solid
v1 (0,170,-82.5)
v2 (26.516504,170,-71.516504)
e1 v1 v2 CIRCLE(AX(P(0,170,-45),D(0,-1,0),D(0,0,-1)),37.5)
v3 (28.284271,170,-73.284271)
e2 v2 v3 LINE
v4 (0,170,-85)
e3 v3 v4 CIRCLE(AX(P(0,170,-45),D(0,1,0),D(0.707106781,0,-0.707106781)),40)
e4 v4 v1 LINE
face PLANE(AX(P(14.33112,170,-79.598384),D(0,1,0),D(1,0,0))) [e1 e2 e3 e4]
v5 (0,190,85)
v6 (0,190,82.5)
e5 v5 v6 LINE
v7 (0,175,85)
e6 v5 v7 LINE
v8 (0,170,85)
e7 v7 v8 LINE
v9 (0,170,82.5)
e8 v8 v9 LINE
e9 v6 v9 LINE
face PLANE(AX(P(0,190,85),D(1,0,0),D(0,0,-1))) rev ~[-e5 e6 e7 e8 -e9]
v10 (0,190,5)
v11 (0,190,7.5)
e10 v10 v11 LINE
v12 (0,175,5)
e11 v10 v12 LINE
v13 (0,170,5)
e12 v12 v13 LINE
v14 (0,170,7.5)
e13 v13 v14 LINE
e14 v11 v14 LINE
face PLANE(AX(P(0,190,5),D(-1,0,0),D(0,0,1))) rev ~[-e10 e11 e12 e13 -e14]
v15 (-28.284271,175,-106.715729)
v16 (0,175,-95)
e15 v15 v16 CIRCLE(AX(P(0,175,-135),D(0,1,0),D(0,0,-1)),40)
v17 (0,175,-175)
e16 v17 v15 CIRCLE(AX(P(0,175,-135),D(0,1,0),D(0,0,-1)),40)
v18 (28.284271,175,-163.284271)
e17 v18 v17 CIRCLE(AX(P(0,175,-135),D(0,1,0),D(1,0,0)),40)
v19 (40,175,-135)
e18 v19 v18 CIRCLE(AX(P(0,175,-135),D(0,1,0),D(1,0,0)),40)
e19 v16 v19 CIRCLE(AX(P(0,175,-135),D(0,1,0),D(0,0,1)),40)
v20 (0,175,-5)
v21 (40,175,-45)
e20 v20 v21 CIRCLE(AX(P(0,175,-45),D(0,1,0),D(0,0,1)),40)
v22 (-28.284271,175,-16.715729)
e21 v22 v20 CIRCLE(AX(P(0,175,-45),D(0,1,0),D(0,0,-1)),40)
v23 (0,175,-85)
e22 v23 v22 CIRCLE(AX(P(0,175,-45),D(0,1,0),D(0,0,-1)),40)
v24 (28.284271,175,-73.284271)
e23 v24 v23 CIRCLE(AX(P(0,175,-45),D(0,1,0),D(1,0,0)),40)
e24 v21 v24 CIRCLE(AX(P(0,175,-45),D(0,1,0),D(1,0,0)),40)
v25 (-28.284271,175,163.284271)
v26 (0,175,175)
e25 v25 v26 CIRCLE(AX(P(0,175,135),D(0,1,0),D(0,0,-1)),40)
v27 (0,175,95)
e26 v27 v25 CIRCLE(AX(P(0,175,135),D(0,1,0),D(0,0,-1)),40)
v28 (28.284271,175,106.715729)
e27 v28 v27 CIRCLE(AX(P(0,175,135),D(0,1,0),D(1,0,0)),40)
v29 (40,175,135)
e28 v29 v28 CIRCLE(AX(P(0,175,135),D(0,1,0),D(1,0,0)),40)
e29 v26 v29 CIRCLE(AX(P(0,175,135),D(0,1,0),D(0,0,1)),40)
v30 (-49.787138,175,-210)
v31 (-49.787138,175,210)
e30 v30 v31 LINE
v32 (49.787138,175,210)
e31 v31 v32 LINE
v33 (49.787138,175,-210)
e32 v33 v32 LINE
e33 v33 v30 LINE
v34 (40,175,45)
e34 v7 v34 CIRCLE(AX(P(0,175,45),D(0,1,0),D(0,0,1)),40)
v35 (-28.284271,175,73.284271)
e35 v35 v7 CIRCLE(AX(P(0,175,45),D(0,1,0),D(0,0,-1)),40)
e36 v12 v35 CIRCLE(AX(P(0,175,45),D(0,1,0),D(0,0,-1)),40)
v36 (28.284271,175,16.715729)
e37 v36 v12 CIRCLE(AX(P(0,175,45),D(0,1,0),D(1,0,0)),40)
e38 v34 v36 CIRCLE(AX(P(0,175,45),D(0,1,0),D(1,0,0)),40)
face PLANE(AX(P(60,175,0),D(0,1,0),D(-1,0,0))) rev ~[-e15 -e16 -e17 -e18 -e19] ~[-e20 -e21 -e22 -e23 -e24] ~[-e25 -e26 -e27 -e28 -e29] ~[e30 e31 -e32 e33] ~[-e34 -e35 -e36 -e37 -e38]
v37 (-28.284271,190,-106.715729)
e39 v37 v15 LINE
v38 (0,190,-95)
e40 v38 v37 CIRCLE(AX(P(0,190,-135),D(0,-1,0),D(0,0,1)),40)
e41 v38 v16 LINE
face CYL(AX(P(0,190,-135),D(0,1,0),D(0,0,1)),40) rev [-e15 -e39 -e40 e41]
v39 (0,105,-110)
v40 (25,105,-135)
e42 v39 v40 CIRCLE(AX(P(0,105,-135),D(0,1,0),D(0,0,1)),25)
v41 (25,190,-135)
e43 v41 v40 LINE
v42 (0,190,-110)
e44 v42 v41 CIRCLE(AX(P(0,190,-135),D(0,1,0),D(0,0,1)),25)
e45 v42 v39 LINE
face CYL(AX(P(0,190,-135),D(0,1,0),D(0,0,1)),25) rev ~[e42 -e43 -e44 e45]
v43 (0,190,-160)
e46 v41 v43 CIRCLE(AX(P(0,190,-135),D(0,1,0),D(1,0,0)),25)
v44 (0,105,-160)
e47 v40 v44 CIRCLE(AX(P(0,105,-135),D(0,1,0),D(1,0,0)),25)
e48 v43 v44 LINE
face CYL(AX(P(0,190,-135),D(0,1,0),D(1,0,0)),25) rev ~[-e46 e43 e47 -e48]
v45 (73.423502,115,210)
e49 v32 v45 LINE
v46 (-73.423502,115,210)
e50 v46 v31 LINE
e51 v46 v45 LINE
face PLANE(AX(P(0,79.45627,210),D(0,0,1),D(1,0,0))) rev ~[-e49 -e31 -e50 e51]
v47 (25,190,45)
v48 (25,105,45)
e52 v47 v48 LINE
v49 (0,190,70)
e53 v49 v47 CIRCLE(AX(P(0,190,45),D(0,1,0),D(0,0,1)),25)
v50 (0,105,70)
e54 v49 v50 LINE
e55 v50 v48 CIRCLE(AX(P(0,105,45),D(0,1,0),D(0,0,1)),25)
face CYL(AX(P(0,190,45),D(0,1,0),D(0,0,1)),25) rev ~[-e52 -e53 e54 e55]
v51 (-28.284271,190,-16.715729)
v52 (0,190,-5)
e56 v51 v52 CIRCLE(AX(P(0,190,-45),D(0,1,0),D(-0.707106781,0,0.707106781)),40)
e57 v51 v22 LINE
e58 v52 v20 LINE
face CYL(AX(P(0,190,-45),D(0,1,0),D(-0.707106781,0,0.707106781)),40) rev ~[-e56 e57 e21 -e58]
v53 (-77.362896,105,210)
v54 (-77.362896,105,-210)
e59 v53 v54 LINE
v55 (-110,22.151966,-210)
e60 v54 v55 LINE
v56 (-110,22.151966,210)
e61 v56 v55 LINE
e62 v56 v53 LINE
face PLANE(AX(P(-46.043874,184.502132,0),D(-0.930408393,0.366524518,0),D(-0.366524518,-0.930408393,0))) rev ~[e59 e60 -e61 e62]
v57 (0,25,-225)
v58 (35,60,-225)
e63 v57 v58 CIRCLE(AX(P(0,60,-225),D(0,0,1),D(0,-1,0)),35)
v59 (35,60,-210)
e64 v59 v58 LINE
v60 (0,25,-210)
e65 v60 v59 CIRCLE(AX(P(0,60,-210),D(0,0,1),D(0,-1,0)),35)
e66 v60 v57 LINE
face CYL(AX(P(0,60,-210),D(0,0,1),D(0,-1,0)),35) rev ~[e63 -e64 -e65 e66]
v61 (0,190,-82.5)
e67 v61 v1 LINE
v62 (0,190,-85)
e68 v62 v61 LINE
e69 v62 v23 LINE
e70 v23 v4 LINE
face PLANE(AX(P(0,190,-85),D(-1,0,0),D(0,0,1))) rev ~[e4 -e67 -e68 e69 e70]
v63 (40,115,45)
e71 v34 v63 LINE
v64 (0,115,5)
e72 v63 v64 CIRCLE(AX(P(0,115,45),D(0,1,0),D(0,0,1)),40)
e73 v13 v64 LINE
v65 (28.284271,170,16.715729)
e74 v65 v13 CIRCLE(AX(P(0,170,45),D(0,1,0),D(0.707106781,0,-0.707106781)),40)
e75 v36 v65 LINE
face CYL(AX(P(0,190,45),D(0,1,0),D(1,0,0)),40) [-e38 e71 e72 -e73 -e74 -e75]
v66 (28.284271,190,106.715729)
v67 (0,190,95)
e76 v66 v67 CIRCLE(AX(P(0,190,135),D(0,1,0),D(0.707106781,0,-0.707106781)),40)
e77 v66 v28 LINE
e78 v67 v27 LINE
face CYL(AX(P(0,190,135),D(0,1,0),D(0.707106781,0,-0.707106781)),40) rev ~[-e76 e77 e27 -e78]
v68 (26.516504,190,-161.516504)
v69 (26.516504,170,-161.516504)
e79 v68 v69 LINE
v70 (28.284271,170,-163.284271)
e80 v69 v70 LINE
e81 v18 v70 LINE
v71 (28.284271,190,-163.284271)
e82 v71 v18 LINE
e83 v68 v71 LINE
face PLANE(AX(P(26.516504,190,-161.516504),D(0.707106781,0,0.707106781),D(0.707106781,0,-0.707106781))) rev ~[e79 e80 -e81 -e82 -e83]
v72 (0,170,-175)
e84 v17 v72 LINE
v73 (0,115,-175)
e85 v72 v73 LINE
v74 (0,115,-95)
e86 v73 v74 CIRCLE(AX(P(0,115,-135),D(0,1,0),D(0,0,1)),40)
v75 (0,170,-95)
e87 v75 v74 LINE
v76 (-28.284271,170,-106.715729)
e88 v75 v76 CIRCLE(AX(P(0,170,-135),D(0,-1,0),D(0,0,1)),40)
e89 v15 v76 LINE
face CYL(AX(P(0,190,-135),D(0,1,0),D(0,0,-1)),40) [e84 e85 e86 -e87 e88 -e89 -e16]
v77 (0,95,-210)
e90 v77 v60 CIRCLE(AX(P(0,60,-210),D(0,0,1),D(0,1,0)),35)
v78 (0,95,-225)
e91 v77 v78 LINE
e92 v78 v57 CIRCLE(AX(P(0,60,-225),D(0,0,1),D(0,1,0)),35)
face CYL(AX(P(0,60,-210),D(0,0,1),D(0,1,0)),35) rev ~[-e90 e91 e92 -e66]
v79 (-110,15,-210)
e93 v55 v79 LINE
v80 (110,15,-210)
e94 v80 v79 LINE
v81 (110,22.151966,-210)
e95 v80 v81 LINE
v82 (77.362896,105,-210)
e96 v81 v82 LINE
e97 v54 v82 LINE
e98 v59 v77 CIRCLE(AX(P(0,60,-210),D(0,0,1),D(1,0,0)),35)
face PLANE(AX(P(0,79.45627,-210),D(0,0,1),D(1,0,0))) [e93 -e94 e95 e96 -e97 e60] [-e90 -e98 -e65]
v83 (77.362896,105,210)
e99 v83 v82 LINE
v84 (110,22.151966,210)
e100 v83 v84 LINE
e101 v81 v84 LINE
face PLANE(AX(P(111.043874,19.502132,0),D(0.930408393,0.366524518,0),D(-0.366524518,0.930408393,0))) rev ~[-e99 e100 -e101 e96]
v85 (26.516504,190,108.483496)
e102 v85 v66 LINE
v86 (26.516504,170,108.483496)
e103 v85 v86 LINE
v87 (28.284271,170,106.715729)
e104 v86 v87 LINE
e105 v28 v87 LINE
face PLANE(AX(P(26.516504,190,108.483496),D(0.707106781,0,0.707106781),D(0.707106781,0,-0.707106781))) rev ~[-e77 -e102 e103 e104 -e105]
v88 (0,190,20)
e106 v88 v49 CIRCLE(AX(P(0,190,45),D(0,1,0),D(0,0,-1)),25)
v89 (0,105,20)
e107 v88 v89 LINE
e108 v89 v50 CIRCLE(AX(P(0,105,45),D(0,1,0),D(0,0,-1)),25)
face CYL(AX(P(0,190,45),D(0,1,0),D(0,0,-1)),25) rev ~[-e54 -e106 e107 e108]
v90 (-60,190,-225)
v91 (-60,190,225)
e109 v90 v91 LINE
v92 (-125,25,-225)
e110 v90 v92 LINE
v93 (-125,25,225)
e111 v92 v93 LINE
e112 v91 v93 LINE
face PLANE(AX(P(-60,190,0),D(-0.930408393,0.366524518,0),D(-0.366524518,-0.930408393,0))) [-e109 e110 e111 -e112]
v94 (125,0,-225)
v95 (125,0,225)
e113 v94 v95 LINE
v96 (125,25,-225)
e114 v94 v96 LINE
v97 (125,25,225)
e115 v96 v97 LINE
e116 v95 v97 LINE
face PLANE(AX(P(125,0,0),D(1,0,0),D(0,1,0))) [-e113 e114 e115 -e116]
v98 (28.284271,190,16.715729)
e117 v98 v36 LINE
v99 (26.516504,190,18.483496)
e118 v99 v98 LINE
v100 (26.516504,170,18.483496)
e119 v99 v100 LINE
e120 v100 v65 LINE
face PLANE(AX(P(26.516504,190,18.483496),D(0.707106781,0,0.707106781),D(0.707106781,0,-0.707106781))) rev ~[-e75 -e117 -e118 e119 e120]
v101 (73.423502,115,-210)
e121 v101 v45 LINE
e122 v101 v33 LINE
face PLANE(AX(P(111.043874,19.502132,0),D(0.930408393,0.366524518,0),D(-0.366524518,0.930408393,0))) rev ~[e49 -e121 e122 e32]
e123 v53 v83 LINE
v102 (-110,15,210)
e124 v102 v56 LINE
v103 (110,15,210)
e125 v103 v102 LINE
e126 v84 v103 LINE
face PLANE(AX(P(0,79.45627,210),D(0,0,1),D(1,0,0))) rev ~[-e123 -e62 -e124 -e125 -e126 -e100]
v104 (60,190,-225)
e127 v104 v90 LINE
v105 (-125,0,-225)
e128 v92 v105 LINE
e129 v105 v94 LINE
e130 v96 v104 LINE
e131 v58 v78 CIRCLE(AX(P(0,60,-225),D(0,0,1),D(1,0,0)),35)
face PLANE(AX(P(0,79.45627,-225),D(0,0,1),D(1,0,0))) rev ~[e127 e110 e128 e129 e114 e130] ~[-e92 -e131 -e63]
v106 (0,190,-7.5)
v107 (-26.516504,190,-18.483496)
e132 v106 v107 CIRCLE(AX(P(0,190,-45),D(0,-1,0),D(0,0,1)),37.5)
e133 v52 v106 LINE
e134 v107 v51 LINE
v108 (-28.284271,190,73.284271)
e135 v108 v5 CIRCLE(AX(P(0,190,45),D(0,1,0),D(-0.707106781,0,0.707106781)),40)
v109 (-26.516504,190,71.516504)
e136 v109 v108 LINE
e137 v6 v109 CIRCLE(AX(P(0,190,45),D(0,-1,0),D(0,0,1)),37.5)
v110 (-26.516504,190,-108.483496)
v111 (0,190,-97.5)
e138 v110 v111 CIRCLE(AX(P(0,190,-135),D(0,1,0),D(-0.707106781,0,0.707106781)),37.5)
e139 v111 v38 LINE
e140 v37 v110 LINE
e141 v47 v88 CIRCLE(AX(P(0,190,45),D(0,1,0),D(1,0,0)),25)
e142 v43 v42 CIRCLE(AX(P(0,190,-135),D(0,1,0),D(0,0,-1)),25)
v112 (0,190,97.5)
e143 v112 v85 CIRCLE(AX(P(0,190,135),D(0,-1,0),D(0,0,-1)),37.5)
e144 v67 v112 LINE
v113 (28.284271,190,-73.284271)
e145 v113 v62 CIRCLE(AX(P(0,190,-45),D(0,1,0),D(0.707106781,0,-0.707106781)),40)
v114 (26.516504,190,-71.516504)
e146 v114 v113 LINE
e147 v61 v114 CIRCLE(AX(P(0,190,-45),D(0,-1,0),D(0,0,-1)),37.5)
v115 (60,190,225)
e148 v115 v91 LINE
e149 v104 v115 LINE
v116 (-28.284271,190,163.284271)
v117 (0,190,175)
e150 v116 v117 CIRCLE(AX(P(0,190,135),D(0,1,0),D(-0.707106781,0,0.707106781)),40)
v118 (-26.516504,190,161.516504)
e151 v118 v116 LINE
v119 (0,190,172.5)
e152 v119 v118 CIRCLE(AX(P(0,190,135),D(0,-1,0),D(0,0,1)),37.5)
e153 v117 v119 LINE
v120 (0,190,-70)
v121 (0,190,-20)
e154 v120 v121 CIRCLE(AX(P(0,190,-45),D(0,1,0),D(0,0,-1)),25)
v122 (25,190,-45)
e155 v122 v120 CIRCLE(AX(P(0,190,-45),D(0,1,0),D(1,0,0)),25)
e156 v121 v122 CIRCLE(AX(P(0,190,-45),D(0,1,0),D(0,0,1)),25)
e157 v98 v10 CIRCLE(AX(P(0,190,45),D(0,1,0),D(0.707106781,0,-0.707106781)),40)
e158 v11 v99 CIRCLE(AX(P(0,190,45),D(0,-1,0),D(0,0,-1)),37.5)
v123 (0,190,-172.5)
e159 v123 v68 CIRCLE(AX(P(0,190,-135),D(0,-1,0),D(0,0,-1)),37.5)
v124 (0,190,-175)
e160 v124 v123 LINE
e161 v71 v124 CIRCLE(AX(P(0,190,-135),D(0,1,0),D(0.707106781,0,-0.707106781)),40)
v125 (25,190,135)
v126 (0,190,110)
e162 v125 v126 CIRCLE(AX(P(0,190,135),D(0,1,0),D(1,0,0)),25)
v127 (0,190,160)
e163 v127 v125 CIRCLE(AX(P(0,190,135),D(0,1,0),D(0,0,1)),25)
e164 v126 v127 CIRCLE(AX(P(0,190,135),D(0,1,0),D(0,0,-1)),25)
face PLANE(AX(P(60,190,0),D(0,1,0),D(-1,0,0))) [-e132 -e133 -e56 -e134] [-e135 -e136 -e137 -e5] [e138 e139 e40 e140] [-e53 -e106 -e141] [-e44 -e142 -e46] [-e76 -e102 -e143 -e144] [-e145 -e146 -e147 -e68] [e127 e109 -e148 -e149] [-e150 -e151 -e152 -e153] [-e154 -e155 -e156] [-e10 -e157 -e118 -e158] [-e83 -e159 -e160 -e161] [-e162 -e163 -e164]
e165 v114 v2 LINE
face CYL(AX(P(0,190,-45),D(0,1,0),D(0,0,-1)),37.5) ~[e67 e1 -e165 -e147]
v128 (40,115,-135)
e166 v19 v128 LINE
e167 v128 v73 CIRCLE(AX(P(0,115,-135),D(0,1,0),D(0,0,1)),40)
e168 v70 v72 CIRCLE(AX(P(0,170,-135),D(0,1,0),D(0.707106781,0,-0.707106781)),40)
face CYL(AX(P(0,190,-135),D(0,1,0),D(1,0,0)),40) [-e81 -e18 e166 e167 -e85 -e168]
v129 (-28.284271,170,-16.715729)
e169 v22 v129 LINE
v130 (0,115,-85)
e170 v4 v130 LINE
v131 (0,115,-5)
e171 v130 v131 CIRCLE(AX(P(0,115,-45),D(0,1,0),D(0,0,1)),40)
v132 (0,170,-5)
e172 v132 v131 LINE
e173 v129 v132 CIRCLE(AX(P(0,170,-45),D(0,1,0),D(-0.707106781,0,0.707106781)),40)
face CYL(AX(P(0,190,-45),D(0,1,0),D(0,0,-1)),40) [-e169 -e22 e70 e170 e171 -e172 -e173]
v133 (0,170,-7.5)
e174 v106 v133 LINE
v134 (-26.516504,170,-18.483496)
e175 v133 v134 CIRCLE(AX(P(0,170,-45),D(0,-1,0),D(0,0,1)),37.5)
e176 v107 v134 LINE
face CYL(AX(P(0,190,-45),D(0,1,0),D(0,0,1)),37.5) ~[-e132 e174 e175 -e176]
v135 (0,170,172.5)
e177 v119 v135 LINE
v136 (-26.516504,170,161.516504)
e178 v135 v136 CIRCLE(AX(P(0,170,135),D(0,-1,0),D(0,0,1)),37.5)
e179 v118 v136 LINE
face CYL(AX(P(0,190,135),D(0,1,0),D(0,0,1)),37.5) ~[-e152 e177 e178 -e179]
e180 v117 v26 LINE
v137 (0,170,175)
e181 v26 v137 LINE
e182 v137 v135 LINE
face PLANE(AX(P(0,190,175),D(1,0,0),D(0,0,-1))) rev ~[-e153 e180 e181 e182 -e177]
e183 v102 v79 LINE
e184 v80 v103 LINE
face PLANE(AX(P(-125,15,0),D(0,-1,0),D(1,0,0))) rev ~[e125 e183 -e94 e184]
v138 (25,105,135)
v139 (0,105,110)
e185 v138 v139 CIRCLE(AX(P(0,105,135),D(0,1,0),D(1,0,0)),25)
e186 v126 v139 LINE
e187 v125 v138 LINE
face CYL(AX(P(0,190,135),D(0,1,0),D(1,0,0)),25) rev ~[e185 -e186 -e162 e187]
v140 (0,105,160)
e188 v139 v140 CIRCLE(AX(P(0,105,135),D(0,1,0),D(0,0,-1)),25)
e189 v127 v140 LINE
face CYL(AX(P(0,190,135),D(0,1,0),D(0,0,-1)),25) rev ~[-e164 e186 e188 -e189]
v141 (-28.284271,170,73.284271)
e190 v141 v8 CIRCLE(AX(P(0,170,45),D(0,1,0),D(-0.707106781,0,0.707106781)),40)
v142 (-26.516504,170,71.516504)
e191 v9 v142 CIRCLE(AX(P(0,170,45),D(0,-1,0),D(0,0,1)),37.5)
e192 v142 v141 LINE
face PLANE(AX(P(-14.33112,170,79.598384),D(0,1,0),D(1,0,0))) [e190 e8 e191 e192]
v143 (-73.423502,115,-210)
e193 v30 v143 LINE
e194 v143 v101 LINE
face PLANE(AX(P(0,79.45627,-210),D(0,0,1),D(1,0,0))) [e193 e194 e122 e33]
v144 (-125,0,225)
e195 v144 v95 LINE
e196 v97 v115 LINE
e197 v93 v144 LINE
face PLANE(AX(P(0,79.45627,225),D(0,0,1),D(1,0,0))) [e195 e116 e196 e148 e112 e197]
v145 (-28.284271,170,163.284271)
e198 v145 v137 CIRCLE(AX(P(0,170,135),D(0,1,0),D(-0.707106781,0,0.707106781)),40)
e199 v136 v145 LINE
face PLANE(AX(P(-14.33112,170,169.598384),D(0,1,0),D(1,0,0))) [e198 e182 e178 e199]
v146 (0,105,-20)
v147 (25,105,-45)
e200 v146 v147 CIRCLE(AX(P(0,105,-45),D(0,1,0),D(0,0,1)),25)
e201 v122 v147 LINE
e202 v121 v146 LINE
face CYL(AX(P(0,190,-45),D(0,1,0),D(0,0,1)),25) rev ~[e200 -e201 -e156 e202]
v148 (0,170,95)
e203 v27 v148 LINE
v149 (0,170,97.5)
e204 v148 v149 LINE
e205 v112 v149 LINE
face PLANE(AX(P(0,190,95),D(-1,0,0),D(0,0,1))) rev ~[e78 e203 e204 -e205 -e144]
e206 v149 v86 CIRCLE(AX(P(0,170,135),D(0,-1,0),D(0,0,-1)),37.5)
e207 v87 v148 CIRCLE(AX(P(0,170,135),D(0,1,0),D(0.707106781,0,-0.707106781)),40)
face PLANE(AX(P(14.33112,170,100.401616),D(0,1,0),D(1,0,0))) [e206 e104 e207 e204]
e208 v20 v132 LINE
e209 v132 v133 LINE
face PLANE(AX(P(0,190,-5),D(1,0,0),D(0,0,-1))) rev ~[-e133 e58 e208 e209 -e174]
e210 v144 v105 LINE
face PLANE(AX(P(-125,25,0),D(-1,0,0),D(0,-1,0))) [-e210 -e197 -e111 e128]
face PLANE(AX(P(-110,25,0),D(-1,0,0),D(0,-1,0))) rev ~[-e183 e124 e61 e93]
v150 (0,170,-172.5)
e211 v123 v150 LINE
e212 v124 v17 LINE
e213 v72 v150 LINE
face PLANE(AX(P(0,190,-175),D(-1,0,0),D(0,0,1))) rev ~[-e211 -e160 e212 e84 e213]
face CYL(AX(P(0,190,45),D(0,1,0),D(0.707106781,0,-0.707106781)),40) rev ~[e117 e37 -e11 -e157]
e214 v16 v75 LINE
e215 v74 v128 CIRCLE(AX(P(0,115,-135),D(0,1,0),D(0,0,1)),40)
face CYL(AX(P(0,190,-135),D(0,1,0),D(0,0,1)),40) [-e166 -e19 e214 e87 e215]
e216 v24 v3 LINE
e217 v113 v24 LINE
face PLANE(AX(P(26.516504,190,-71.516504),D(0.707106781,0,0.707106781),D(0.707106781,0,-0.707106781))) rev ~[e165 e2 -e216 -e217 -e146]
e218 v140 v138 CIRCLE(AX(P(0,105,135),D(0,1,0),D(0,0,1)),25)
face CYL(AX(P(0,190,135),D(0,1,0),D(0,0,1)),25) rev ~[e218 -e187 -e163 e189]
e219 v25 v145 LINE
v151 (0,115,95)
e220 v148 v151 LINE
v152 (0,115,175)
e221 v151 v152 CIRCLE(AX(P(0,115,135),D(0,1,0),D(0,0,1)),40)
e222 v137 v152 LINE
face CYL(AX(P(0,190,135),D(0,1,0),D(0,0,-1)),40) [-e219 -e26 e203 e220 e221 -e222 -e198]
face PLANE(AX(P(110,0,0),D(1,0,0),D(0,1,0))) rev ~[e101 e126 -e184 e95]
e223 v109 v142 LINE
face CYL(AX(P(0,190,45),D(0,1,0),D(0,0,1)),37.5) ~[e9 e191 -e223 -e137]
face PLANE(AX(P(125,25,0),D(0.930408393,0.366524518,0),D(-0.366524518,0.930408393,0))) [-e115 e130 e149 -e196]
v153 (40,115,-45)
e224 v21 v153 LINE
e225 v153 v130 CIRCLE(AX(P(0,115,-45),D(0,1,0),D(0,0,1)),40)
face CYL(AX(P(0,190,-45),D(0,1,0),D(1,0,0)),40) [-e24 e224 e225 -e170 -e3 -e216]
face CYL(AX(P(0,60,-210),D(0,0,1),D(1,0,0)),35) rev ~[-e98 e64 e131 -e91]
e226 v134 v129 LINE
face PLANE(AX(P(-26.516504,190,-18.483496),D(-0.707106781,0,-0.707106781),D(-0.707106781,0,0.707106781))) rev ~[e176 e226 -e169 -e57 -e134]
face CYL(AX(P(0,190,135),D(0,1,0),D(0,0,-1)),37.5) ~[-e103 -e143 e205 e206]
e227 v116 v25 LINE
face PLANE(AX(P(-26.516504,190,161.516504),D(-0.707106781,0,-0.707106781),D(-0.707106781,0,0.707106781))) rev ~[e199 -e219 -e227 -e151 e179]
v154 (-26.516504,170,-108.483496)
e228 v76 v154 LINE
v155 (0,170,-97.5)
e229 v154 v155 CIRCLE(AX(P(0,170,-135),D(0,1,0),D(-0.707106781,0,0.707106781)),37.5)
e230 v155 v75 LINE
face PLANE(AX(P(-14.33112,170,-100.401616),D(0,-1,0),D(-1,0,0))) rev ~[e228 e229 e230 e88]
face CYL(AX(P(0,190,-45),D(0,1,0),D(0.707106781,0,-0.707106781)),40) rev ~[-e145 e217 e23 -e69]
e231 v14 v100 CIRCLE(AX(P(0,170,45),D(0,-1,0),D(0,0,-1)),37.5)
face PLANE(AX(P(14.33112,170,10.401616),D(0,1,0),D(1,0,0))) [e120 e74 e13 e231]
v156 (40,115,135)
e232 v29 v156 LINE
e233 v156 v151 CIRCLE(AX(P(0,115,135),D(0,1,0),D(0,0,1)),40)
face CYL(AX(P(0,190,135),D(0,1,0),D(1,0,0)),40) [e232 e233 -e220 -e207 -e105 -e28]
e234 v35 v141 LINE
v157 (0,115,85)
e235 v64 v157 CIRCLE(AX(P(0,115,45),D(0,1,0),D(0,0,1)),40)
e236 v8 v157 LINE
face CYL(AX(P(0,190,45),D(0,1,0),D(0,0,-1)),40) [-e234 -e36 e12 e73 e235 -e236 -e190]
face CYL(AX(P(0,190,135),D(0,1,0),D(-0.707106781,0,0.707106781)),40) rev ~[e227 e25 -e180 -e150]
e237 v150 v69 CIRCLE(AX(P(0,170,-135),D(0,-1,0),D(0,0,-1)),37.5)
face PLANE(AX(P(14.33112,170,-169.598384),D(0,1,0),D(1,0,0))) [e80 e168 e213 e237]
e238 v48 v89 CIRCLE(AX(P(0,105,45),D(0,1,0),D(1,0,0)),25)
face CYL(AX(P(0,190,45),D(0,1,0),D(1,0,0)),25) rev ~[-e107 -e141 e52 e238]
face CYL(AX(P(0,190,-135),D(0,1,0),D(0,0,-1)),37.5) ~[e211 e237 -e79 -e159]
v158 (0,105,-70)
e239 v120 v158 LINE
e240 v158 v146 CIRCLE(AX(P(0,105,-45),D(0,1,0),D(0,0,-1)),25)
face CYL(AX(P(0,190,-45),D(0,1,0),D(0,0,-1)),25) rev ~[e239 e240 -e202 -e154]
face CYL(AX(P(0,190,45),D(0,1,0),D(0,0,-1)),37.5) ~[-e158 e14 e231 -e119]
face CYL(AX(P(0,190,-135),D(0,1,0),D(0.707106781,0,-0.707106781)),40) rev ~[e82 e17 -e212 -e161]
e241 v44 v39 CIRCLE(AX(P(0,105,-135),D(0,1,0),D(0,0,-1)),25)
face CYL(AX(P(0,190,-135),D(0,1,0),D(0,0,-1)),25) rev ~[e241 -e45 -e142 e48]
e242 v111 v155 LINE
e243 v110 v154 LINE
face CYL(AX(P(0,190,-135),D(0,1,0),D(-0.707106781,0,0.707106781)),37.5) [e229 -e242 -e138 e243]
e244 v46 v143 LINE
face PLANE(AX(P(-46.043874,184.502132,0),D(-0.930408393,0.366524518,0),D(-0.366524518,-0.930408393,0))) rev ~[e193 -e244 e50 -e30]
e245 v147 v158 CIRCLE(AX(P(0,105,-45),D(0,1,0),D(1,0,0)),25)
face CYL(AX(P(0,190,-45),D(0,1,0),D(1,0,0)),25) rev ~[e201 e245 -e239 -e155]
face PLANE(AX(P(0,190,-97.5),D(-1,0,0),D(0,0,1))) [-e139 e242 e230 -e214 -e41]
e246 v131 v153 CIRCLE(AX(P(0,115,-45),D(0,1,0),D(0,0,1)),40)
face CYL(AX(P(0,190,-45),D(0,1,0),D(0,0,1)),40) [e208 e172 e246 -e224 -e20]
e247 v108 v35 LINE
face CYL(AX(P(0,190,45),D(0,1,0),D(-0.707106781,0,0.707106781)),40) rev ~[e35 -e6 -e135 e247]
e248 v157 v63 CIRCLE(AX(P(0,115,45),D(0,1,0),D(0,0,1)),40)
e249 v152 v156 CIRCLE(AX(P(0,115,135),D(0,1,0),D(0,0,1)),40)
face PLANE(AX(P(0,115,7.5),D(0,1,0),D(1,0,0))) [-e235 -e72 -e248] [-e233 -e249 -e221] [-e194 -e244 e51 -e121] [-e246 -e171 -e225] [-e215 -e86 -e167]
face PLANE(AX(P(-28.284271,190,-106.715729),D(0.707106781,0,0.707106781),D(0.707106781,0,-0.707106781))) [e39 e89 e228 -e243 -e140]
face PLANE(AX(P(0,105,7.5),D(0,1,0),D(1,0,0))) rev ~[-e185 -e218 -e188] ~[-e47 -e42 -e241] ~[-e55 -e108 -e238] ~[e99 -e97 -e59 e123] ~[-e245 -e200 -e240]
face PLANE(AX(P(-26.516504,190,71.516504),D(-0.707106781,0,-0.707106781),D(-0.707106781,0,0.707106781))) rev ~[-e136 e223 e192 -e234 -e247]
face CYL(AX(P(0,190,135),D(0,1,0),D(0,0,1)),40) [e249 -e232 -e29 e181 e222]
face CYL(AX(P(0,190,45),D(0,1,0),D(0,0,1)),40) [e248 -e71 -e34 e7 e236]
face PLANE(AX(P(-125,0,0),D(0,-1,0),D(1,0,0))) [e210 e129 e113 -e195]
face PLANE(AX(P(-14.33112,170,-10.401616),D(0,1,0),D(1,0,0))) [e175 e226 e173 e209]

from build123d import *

# Parameters (mm, degrees)
ESTRUSIONE_ESTRUSIONE1_DEPTH = 225
TAGLIO_ESTRUSIONE1_DEPTH     = 90
SVUOTA1_T                    = -15
TAGLIO_ESTRUSIONE2_START     = -20
SCHIZZO4_R                   = 40
TAGLIO_ESTRUSIONE2_DEPTH     = 20
ESTRUSIONE_ESTRUSIONE2_START = 10
SCHIZZO6_W                   = 154.725791786
SCHIZZO6_H                   = 435
SCHIZZO6_R                   = 40
ESTRUSIONE_ESTRUSIONE2_DEPTH = 10
ESTRUSIONE_ESTRUSIONE3_DEPTH = 15
TAGLIO_ESTRUSIONE12_DEPTH    = 491.866580651
TAGLIO_ESTRUSIONE13_DEPTH    = 20


with BuildPart() as part:
    # Schizzo1 → Estrusione-Estrusione1 (new, symmetric)
    with BuildSketch(Plane.XY):
        Polygon((-125, 0), (125, 0), (125, 25), (60, 190), (-60, 190), (-125, 25), align=None)
    extrude(amount=ESTRUSIONE_ESTRUSIONE1_DEPTH, both=True)

    # Schizzo2 → Taglio-Estrusione1 (cut)
    with BuildSketch(Plane(origin=(0, 190, 0), x_dir=(1, 0, 0), z_dir=(0, 1, 0))):
        with BuildLine():
            ThreePointArc((0, -110), (-25, -135), (0, -160))
            Line((0, -160), (0, -135))
            Line((0, -135), (0, -110))
        make_face()
        with BuildLine():
            Line((0, -135), (0, -160))
            ThreePointArc((0, -160), (17.67766953, -152.67766953), (25, -135))
            ThreePointArc((25, -135), (17.67766953, -117.32233047), (0, -110))
            Line((0, -110), (0, -135))
        make_face()
        with BuildLine():
            ThreePointArc((0, -20), (-25, -45), (0, -70))
            Line((0, -70), (0, -45))
            Line((0, -45), (0, -20))
        make_face()
        with BuildLine():
            Line((0, -45), (0, -70))
            ThreePointArc((0, -70), (17.67766953, -62.67766953), (25, -45))
            ThreePointArc((25, -45), (17.67766953, -27.32233047), (0, -20))
            Line((0, -20), (0, -45))
        make_face()
        with BuildLine():
            ThreePointArc((0, 70), (-25, 45), (0, 20))
            Line((0, 20), (0, 45))
            Line((0, 45), (0, 70))
        make_face()
        with BuildLine():
            Line((0, 45), (0, 20))
            ThreePointArc((0, 20), (17.67766953, 27.32233047), (25, 45))
            ThreePointArc((25, 45), (17.67766953, 62.67766953), (0, 70))
            Line((0, 70), (0, 45))
        make_face()
        with BuildLine():
            ThreePointArc((0, 160), (-25, 135), (0, 110))
            Line((0, 110), (0, 135))
            Line((0, 135), (0, 160))
        make_face()
        with BuildLine():
            Line((0, 135), (0, 110))
            ThreePointArc((0, 110), (17.67766953, 117.32233047), (25, 135))
            ThreePointArc((25, 135), (17.67766953, 152.67766953), (0, 160))
            Line((0, 160), (0, 135))
        make_face()
    extrude(amount=-TAGLIO_ESTRUSIONE1_DEPTH, mode=Mode.SUBTRACT)

    # Svuota1
    svuota1_openings = [part.faces().sort_by_distance(p)[0] for p in [
        (0, 83.334466349, 225),
    ]]
    offset(amount=SVUOTA1_T, openings=svuota1_openings, kind=Kind.INTERSECTION)

    # Schizzo4 → Taglio-Estrusione2 (cut)
    with BuildSketch(Plane.XZ.offset(-85).offset(TAGLIO_ESTRUSIONE2_START)):
        with Locations(Location((0, -135, 0), (0, 0, 90))):
            Circle(SCHIZZO4_R)
        with Locations(Location((0, -45, 0), (0, 0, 90))):
            Circle(SCHIZZO4_R)
        with Locations(Location((0, 45, 0), (0, 0, 90))):
            Circle(SCHIZZO4_R)
        with Locations(Location((0, 135, 0), (0, 0, 90))):
            Circle(SCHIZZO4_R)
    extrude(amount=TAGLIO_ESTRUSIONE2_DEPTH, mode=Mode.SUBTRACT)

    # Schizzo6 → Estrusione-Estrusione2 (add)
    with BuildSketch(Plane(origin=(0, 105, 0), x_dir=(1, 0, 0), z_dir=(0, 1, 0)).offset(ESTRUSIONE_ESTRUSIONE2_START)):
        with Locations((0, -7.5)):
            Rectangle(SCHIZZO6_W, SCHIZZO6_H)
        with Locations(Location((0, 135, 0), (0, 0, 270))):
            Circle(SCHIZZO6_R, mode=Mode.SUBTRACT)
        with Locations(Location((0, 45, 0), (0, 0, 270))):
            Circle(SCHIZZO6_R, mode=Mode.SUBTRACT)
        with Locations(Location((0, -45, 0), (0, 0, 270))):
            Circle(SCHIZZO6_R, mode=Mode.SUBTRACT)
        with Locations(Location((0, -135, 0), (0, 0, 270))):
            Circle(SCHIZZO6_R, mode=Mode.SUBTRACT)
    extrude(amount=-ESTRUSIONE_ESTRUSIONE2_DEPTH)

    # Schizzo7 → Estrusione-Estrusione3 (add)
    with BuildSketch(Plane.XY.offset(225)):
        Polygon((-125, 25), (-125, 0), (125, 0), (125, 25), (60, 190), (-60, 190), align=None)
    extrude(amount=-ESTRUSIONE_ESTRUSIONE3_DEPTH)

    # Schizzo12 → Taglio-Estrusione12 (cut, through all)
    with BuildSketch(Plane.XY.offset(-210)):
        with BuildLine():
            ThreePointArc((35, 60), (24.748737342, 84.748737342), (0, 95))
            Line((0, 95), (0, 25))
            ThreePointArc((0, 25), (24.748737342, 35.251262658), (35, 60))
        make_face()
        with BuildLine():
            Line((0, 25), (0, 95))
            ThreePointArc((0, 95), (-35, 60), (0, 25))
        make_face()
    extrude(amount=-TAGLIO_ESTRUSIONE12_DEPTH, mode=Mode.SUBTRACT)

    # Schizzo13 → Taglio-Estrusione13 (cut)
    with BuildSketch(Plane(origin=(0, 190, 0), x_dir=(1, 0, 0), z_dir=(0, 1, 0))):
        with BuildLine():
            Line((0, 97.5), (0, 95))
            ThreePointArc((0, 95), (-15.307337295, 98.0448187), (-28.284271247, 106.715728753))
            Line((-28.284271247, 106.715728753), (-26.516504294, 108.483495706))
            ThreePointArc((-26.516504294, 108.483495706), (-14.350628714, 100.354517531), (0, 97.5))
        make_face()
        with BuildLine():
            Line((26.516504294, 161.516504294), (28.284271247, 163.284271247))
            ThreePointArc((28.284271247, 163.284271247), (15.307337295, 171.9551813), (0, 175))
            Line((0, 175), (0, 172.5))
            ThreePointArc((0, 172.5), (14.350628714, 169.645482469), (26.516504294, 161.516504294))
        make_face()
        with BuildLine():
            Line((-26.516504294, 18.483495706), (-28.284271247, 16.715728753))
            ThreePointArc((-28.284271247, 16.715728753), (-15.307337295, 8.0448187), (0, 5))
            Line((0, 5), (0, 7.5))
            ThreePointArc((0, 7.5), (-14.350628714, 10.354517531), (-26.516504294, 18.483495706))
        make_face()
        with BuildLine():
            Line((26.516504294, 71.516504294), (28.284271247, 73.284271247))
            ThreePointArc((28.284271247, 73.284271247), (15.307337295, 81.9551813), (0, 85))
            Line((0, 85), (0, 82.5))
            ThreePointArc((0, 82.5), (14.350628714, 79.645482469), (26.516504294, 71.516504294))
        make_face()
        with BuildLine():
            Line((-26.516504294, -71.516504294), (-28.284271247, -73.284271247))
            ThreePointArc((-28.284271247, -73.284271247), (-15.307337295, -81.9551813), (0, -85))
            Line((0, -85), (0, -82.5))
            ThreePointArc((0, -82.5), (-14.350628714, -79.645482469), (-26.516504294, -71.516504294))
        make_face()
        with BuildLine():
            Line((26.516504294, -18.483495706), (28.284271247, -16.715728753))
            ThreePointArc((28.284271247, -16.715728753), (15.307337295, -8.0448187), (0, -5))
            Line((0, -5), (0, -7.5))
            ThreePointArc((0, -7.5), (14.350628714, -10.354517531), (26.516504294, -18.483495706))
        make_face()
        with BuildLine():
            Line((-26.516504294, -161.516504294), (-28.284271247, -163.284271247))
            ThreePointArc((-28.284271247, -163.284271247), (-15.307337295, -171.9551813), (0, -175))
            Line((0, -175), (0, -172.5))
            ThreePointArc((0, -172.5), (-14.350628714, -169.645482469), (-26.516504294, -161.516504294))
        make_face()
        with BuildLine():
            Line((26.516504294, -108.483495706), (28.284271247, -106.715728753))
            ThreePointArc((28.284271247, -106.715728753), (15.307337295, -98.0448187), (0, -95))
            Line((0, -95), (0, -97.5))
            ThreePointArc((0, -97.5), (14.350628714, -100.354517531), (26.516504294, -108.483495706))
        make_face()
    extrude(amount=-TAGLIO_ESTRUSIONE13_DEPTH, mode=Mode.SUBTRACT)


solid = part.part
